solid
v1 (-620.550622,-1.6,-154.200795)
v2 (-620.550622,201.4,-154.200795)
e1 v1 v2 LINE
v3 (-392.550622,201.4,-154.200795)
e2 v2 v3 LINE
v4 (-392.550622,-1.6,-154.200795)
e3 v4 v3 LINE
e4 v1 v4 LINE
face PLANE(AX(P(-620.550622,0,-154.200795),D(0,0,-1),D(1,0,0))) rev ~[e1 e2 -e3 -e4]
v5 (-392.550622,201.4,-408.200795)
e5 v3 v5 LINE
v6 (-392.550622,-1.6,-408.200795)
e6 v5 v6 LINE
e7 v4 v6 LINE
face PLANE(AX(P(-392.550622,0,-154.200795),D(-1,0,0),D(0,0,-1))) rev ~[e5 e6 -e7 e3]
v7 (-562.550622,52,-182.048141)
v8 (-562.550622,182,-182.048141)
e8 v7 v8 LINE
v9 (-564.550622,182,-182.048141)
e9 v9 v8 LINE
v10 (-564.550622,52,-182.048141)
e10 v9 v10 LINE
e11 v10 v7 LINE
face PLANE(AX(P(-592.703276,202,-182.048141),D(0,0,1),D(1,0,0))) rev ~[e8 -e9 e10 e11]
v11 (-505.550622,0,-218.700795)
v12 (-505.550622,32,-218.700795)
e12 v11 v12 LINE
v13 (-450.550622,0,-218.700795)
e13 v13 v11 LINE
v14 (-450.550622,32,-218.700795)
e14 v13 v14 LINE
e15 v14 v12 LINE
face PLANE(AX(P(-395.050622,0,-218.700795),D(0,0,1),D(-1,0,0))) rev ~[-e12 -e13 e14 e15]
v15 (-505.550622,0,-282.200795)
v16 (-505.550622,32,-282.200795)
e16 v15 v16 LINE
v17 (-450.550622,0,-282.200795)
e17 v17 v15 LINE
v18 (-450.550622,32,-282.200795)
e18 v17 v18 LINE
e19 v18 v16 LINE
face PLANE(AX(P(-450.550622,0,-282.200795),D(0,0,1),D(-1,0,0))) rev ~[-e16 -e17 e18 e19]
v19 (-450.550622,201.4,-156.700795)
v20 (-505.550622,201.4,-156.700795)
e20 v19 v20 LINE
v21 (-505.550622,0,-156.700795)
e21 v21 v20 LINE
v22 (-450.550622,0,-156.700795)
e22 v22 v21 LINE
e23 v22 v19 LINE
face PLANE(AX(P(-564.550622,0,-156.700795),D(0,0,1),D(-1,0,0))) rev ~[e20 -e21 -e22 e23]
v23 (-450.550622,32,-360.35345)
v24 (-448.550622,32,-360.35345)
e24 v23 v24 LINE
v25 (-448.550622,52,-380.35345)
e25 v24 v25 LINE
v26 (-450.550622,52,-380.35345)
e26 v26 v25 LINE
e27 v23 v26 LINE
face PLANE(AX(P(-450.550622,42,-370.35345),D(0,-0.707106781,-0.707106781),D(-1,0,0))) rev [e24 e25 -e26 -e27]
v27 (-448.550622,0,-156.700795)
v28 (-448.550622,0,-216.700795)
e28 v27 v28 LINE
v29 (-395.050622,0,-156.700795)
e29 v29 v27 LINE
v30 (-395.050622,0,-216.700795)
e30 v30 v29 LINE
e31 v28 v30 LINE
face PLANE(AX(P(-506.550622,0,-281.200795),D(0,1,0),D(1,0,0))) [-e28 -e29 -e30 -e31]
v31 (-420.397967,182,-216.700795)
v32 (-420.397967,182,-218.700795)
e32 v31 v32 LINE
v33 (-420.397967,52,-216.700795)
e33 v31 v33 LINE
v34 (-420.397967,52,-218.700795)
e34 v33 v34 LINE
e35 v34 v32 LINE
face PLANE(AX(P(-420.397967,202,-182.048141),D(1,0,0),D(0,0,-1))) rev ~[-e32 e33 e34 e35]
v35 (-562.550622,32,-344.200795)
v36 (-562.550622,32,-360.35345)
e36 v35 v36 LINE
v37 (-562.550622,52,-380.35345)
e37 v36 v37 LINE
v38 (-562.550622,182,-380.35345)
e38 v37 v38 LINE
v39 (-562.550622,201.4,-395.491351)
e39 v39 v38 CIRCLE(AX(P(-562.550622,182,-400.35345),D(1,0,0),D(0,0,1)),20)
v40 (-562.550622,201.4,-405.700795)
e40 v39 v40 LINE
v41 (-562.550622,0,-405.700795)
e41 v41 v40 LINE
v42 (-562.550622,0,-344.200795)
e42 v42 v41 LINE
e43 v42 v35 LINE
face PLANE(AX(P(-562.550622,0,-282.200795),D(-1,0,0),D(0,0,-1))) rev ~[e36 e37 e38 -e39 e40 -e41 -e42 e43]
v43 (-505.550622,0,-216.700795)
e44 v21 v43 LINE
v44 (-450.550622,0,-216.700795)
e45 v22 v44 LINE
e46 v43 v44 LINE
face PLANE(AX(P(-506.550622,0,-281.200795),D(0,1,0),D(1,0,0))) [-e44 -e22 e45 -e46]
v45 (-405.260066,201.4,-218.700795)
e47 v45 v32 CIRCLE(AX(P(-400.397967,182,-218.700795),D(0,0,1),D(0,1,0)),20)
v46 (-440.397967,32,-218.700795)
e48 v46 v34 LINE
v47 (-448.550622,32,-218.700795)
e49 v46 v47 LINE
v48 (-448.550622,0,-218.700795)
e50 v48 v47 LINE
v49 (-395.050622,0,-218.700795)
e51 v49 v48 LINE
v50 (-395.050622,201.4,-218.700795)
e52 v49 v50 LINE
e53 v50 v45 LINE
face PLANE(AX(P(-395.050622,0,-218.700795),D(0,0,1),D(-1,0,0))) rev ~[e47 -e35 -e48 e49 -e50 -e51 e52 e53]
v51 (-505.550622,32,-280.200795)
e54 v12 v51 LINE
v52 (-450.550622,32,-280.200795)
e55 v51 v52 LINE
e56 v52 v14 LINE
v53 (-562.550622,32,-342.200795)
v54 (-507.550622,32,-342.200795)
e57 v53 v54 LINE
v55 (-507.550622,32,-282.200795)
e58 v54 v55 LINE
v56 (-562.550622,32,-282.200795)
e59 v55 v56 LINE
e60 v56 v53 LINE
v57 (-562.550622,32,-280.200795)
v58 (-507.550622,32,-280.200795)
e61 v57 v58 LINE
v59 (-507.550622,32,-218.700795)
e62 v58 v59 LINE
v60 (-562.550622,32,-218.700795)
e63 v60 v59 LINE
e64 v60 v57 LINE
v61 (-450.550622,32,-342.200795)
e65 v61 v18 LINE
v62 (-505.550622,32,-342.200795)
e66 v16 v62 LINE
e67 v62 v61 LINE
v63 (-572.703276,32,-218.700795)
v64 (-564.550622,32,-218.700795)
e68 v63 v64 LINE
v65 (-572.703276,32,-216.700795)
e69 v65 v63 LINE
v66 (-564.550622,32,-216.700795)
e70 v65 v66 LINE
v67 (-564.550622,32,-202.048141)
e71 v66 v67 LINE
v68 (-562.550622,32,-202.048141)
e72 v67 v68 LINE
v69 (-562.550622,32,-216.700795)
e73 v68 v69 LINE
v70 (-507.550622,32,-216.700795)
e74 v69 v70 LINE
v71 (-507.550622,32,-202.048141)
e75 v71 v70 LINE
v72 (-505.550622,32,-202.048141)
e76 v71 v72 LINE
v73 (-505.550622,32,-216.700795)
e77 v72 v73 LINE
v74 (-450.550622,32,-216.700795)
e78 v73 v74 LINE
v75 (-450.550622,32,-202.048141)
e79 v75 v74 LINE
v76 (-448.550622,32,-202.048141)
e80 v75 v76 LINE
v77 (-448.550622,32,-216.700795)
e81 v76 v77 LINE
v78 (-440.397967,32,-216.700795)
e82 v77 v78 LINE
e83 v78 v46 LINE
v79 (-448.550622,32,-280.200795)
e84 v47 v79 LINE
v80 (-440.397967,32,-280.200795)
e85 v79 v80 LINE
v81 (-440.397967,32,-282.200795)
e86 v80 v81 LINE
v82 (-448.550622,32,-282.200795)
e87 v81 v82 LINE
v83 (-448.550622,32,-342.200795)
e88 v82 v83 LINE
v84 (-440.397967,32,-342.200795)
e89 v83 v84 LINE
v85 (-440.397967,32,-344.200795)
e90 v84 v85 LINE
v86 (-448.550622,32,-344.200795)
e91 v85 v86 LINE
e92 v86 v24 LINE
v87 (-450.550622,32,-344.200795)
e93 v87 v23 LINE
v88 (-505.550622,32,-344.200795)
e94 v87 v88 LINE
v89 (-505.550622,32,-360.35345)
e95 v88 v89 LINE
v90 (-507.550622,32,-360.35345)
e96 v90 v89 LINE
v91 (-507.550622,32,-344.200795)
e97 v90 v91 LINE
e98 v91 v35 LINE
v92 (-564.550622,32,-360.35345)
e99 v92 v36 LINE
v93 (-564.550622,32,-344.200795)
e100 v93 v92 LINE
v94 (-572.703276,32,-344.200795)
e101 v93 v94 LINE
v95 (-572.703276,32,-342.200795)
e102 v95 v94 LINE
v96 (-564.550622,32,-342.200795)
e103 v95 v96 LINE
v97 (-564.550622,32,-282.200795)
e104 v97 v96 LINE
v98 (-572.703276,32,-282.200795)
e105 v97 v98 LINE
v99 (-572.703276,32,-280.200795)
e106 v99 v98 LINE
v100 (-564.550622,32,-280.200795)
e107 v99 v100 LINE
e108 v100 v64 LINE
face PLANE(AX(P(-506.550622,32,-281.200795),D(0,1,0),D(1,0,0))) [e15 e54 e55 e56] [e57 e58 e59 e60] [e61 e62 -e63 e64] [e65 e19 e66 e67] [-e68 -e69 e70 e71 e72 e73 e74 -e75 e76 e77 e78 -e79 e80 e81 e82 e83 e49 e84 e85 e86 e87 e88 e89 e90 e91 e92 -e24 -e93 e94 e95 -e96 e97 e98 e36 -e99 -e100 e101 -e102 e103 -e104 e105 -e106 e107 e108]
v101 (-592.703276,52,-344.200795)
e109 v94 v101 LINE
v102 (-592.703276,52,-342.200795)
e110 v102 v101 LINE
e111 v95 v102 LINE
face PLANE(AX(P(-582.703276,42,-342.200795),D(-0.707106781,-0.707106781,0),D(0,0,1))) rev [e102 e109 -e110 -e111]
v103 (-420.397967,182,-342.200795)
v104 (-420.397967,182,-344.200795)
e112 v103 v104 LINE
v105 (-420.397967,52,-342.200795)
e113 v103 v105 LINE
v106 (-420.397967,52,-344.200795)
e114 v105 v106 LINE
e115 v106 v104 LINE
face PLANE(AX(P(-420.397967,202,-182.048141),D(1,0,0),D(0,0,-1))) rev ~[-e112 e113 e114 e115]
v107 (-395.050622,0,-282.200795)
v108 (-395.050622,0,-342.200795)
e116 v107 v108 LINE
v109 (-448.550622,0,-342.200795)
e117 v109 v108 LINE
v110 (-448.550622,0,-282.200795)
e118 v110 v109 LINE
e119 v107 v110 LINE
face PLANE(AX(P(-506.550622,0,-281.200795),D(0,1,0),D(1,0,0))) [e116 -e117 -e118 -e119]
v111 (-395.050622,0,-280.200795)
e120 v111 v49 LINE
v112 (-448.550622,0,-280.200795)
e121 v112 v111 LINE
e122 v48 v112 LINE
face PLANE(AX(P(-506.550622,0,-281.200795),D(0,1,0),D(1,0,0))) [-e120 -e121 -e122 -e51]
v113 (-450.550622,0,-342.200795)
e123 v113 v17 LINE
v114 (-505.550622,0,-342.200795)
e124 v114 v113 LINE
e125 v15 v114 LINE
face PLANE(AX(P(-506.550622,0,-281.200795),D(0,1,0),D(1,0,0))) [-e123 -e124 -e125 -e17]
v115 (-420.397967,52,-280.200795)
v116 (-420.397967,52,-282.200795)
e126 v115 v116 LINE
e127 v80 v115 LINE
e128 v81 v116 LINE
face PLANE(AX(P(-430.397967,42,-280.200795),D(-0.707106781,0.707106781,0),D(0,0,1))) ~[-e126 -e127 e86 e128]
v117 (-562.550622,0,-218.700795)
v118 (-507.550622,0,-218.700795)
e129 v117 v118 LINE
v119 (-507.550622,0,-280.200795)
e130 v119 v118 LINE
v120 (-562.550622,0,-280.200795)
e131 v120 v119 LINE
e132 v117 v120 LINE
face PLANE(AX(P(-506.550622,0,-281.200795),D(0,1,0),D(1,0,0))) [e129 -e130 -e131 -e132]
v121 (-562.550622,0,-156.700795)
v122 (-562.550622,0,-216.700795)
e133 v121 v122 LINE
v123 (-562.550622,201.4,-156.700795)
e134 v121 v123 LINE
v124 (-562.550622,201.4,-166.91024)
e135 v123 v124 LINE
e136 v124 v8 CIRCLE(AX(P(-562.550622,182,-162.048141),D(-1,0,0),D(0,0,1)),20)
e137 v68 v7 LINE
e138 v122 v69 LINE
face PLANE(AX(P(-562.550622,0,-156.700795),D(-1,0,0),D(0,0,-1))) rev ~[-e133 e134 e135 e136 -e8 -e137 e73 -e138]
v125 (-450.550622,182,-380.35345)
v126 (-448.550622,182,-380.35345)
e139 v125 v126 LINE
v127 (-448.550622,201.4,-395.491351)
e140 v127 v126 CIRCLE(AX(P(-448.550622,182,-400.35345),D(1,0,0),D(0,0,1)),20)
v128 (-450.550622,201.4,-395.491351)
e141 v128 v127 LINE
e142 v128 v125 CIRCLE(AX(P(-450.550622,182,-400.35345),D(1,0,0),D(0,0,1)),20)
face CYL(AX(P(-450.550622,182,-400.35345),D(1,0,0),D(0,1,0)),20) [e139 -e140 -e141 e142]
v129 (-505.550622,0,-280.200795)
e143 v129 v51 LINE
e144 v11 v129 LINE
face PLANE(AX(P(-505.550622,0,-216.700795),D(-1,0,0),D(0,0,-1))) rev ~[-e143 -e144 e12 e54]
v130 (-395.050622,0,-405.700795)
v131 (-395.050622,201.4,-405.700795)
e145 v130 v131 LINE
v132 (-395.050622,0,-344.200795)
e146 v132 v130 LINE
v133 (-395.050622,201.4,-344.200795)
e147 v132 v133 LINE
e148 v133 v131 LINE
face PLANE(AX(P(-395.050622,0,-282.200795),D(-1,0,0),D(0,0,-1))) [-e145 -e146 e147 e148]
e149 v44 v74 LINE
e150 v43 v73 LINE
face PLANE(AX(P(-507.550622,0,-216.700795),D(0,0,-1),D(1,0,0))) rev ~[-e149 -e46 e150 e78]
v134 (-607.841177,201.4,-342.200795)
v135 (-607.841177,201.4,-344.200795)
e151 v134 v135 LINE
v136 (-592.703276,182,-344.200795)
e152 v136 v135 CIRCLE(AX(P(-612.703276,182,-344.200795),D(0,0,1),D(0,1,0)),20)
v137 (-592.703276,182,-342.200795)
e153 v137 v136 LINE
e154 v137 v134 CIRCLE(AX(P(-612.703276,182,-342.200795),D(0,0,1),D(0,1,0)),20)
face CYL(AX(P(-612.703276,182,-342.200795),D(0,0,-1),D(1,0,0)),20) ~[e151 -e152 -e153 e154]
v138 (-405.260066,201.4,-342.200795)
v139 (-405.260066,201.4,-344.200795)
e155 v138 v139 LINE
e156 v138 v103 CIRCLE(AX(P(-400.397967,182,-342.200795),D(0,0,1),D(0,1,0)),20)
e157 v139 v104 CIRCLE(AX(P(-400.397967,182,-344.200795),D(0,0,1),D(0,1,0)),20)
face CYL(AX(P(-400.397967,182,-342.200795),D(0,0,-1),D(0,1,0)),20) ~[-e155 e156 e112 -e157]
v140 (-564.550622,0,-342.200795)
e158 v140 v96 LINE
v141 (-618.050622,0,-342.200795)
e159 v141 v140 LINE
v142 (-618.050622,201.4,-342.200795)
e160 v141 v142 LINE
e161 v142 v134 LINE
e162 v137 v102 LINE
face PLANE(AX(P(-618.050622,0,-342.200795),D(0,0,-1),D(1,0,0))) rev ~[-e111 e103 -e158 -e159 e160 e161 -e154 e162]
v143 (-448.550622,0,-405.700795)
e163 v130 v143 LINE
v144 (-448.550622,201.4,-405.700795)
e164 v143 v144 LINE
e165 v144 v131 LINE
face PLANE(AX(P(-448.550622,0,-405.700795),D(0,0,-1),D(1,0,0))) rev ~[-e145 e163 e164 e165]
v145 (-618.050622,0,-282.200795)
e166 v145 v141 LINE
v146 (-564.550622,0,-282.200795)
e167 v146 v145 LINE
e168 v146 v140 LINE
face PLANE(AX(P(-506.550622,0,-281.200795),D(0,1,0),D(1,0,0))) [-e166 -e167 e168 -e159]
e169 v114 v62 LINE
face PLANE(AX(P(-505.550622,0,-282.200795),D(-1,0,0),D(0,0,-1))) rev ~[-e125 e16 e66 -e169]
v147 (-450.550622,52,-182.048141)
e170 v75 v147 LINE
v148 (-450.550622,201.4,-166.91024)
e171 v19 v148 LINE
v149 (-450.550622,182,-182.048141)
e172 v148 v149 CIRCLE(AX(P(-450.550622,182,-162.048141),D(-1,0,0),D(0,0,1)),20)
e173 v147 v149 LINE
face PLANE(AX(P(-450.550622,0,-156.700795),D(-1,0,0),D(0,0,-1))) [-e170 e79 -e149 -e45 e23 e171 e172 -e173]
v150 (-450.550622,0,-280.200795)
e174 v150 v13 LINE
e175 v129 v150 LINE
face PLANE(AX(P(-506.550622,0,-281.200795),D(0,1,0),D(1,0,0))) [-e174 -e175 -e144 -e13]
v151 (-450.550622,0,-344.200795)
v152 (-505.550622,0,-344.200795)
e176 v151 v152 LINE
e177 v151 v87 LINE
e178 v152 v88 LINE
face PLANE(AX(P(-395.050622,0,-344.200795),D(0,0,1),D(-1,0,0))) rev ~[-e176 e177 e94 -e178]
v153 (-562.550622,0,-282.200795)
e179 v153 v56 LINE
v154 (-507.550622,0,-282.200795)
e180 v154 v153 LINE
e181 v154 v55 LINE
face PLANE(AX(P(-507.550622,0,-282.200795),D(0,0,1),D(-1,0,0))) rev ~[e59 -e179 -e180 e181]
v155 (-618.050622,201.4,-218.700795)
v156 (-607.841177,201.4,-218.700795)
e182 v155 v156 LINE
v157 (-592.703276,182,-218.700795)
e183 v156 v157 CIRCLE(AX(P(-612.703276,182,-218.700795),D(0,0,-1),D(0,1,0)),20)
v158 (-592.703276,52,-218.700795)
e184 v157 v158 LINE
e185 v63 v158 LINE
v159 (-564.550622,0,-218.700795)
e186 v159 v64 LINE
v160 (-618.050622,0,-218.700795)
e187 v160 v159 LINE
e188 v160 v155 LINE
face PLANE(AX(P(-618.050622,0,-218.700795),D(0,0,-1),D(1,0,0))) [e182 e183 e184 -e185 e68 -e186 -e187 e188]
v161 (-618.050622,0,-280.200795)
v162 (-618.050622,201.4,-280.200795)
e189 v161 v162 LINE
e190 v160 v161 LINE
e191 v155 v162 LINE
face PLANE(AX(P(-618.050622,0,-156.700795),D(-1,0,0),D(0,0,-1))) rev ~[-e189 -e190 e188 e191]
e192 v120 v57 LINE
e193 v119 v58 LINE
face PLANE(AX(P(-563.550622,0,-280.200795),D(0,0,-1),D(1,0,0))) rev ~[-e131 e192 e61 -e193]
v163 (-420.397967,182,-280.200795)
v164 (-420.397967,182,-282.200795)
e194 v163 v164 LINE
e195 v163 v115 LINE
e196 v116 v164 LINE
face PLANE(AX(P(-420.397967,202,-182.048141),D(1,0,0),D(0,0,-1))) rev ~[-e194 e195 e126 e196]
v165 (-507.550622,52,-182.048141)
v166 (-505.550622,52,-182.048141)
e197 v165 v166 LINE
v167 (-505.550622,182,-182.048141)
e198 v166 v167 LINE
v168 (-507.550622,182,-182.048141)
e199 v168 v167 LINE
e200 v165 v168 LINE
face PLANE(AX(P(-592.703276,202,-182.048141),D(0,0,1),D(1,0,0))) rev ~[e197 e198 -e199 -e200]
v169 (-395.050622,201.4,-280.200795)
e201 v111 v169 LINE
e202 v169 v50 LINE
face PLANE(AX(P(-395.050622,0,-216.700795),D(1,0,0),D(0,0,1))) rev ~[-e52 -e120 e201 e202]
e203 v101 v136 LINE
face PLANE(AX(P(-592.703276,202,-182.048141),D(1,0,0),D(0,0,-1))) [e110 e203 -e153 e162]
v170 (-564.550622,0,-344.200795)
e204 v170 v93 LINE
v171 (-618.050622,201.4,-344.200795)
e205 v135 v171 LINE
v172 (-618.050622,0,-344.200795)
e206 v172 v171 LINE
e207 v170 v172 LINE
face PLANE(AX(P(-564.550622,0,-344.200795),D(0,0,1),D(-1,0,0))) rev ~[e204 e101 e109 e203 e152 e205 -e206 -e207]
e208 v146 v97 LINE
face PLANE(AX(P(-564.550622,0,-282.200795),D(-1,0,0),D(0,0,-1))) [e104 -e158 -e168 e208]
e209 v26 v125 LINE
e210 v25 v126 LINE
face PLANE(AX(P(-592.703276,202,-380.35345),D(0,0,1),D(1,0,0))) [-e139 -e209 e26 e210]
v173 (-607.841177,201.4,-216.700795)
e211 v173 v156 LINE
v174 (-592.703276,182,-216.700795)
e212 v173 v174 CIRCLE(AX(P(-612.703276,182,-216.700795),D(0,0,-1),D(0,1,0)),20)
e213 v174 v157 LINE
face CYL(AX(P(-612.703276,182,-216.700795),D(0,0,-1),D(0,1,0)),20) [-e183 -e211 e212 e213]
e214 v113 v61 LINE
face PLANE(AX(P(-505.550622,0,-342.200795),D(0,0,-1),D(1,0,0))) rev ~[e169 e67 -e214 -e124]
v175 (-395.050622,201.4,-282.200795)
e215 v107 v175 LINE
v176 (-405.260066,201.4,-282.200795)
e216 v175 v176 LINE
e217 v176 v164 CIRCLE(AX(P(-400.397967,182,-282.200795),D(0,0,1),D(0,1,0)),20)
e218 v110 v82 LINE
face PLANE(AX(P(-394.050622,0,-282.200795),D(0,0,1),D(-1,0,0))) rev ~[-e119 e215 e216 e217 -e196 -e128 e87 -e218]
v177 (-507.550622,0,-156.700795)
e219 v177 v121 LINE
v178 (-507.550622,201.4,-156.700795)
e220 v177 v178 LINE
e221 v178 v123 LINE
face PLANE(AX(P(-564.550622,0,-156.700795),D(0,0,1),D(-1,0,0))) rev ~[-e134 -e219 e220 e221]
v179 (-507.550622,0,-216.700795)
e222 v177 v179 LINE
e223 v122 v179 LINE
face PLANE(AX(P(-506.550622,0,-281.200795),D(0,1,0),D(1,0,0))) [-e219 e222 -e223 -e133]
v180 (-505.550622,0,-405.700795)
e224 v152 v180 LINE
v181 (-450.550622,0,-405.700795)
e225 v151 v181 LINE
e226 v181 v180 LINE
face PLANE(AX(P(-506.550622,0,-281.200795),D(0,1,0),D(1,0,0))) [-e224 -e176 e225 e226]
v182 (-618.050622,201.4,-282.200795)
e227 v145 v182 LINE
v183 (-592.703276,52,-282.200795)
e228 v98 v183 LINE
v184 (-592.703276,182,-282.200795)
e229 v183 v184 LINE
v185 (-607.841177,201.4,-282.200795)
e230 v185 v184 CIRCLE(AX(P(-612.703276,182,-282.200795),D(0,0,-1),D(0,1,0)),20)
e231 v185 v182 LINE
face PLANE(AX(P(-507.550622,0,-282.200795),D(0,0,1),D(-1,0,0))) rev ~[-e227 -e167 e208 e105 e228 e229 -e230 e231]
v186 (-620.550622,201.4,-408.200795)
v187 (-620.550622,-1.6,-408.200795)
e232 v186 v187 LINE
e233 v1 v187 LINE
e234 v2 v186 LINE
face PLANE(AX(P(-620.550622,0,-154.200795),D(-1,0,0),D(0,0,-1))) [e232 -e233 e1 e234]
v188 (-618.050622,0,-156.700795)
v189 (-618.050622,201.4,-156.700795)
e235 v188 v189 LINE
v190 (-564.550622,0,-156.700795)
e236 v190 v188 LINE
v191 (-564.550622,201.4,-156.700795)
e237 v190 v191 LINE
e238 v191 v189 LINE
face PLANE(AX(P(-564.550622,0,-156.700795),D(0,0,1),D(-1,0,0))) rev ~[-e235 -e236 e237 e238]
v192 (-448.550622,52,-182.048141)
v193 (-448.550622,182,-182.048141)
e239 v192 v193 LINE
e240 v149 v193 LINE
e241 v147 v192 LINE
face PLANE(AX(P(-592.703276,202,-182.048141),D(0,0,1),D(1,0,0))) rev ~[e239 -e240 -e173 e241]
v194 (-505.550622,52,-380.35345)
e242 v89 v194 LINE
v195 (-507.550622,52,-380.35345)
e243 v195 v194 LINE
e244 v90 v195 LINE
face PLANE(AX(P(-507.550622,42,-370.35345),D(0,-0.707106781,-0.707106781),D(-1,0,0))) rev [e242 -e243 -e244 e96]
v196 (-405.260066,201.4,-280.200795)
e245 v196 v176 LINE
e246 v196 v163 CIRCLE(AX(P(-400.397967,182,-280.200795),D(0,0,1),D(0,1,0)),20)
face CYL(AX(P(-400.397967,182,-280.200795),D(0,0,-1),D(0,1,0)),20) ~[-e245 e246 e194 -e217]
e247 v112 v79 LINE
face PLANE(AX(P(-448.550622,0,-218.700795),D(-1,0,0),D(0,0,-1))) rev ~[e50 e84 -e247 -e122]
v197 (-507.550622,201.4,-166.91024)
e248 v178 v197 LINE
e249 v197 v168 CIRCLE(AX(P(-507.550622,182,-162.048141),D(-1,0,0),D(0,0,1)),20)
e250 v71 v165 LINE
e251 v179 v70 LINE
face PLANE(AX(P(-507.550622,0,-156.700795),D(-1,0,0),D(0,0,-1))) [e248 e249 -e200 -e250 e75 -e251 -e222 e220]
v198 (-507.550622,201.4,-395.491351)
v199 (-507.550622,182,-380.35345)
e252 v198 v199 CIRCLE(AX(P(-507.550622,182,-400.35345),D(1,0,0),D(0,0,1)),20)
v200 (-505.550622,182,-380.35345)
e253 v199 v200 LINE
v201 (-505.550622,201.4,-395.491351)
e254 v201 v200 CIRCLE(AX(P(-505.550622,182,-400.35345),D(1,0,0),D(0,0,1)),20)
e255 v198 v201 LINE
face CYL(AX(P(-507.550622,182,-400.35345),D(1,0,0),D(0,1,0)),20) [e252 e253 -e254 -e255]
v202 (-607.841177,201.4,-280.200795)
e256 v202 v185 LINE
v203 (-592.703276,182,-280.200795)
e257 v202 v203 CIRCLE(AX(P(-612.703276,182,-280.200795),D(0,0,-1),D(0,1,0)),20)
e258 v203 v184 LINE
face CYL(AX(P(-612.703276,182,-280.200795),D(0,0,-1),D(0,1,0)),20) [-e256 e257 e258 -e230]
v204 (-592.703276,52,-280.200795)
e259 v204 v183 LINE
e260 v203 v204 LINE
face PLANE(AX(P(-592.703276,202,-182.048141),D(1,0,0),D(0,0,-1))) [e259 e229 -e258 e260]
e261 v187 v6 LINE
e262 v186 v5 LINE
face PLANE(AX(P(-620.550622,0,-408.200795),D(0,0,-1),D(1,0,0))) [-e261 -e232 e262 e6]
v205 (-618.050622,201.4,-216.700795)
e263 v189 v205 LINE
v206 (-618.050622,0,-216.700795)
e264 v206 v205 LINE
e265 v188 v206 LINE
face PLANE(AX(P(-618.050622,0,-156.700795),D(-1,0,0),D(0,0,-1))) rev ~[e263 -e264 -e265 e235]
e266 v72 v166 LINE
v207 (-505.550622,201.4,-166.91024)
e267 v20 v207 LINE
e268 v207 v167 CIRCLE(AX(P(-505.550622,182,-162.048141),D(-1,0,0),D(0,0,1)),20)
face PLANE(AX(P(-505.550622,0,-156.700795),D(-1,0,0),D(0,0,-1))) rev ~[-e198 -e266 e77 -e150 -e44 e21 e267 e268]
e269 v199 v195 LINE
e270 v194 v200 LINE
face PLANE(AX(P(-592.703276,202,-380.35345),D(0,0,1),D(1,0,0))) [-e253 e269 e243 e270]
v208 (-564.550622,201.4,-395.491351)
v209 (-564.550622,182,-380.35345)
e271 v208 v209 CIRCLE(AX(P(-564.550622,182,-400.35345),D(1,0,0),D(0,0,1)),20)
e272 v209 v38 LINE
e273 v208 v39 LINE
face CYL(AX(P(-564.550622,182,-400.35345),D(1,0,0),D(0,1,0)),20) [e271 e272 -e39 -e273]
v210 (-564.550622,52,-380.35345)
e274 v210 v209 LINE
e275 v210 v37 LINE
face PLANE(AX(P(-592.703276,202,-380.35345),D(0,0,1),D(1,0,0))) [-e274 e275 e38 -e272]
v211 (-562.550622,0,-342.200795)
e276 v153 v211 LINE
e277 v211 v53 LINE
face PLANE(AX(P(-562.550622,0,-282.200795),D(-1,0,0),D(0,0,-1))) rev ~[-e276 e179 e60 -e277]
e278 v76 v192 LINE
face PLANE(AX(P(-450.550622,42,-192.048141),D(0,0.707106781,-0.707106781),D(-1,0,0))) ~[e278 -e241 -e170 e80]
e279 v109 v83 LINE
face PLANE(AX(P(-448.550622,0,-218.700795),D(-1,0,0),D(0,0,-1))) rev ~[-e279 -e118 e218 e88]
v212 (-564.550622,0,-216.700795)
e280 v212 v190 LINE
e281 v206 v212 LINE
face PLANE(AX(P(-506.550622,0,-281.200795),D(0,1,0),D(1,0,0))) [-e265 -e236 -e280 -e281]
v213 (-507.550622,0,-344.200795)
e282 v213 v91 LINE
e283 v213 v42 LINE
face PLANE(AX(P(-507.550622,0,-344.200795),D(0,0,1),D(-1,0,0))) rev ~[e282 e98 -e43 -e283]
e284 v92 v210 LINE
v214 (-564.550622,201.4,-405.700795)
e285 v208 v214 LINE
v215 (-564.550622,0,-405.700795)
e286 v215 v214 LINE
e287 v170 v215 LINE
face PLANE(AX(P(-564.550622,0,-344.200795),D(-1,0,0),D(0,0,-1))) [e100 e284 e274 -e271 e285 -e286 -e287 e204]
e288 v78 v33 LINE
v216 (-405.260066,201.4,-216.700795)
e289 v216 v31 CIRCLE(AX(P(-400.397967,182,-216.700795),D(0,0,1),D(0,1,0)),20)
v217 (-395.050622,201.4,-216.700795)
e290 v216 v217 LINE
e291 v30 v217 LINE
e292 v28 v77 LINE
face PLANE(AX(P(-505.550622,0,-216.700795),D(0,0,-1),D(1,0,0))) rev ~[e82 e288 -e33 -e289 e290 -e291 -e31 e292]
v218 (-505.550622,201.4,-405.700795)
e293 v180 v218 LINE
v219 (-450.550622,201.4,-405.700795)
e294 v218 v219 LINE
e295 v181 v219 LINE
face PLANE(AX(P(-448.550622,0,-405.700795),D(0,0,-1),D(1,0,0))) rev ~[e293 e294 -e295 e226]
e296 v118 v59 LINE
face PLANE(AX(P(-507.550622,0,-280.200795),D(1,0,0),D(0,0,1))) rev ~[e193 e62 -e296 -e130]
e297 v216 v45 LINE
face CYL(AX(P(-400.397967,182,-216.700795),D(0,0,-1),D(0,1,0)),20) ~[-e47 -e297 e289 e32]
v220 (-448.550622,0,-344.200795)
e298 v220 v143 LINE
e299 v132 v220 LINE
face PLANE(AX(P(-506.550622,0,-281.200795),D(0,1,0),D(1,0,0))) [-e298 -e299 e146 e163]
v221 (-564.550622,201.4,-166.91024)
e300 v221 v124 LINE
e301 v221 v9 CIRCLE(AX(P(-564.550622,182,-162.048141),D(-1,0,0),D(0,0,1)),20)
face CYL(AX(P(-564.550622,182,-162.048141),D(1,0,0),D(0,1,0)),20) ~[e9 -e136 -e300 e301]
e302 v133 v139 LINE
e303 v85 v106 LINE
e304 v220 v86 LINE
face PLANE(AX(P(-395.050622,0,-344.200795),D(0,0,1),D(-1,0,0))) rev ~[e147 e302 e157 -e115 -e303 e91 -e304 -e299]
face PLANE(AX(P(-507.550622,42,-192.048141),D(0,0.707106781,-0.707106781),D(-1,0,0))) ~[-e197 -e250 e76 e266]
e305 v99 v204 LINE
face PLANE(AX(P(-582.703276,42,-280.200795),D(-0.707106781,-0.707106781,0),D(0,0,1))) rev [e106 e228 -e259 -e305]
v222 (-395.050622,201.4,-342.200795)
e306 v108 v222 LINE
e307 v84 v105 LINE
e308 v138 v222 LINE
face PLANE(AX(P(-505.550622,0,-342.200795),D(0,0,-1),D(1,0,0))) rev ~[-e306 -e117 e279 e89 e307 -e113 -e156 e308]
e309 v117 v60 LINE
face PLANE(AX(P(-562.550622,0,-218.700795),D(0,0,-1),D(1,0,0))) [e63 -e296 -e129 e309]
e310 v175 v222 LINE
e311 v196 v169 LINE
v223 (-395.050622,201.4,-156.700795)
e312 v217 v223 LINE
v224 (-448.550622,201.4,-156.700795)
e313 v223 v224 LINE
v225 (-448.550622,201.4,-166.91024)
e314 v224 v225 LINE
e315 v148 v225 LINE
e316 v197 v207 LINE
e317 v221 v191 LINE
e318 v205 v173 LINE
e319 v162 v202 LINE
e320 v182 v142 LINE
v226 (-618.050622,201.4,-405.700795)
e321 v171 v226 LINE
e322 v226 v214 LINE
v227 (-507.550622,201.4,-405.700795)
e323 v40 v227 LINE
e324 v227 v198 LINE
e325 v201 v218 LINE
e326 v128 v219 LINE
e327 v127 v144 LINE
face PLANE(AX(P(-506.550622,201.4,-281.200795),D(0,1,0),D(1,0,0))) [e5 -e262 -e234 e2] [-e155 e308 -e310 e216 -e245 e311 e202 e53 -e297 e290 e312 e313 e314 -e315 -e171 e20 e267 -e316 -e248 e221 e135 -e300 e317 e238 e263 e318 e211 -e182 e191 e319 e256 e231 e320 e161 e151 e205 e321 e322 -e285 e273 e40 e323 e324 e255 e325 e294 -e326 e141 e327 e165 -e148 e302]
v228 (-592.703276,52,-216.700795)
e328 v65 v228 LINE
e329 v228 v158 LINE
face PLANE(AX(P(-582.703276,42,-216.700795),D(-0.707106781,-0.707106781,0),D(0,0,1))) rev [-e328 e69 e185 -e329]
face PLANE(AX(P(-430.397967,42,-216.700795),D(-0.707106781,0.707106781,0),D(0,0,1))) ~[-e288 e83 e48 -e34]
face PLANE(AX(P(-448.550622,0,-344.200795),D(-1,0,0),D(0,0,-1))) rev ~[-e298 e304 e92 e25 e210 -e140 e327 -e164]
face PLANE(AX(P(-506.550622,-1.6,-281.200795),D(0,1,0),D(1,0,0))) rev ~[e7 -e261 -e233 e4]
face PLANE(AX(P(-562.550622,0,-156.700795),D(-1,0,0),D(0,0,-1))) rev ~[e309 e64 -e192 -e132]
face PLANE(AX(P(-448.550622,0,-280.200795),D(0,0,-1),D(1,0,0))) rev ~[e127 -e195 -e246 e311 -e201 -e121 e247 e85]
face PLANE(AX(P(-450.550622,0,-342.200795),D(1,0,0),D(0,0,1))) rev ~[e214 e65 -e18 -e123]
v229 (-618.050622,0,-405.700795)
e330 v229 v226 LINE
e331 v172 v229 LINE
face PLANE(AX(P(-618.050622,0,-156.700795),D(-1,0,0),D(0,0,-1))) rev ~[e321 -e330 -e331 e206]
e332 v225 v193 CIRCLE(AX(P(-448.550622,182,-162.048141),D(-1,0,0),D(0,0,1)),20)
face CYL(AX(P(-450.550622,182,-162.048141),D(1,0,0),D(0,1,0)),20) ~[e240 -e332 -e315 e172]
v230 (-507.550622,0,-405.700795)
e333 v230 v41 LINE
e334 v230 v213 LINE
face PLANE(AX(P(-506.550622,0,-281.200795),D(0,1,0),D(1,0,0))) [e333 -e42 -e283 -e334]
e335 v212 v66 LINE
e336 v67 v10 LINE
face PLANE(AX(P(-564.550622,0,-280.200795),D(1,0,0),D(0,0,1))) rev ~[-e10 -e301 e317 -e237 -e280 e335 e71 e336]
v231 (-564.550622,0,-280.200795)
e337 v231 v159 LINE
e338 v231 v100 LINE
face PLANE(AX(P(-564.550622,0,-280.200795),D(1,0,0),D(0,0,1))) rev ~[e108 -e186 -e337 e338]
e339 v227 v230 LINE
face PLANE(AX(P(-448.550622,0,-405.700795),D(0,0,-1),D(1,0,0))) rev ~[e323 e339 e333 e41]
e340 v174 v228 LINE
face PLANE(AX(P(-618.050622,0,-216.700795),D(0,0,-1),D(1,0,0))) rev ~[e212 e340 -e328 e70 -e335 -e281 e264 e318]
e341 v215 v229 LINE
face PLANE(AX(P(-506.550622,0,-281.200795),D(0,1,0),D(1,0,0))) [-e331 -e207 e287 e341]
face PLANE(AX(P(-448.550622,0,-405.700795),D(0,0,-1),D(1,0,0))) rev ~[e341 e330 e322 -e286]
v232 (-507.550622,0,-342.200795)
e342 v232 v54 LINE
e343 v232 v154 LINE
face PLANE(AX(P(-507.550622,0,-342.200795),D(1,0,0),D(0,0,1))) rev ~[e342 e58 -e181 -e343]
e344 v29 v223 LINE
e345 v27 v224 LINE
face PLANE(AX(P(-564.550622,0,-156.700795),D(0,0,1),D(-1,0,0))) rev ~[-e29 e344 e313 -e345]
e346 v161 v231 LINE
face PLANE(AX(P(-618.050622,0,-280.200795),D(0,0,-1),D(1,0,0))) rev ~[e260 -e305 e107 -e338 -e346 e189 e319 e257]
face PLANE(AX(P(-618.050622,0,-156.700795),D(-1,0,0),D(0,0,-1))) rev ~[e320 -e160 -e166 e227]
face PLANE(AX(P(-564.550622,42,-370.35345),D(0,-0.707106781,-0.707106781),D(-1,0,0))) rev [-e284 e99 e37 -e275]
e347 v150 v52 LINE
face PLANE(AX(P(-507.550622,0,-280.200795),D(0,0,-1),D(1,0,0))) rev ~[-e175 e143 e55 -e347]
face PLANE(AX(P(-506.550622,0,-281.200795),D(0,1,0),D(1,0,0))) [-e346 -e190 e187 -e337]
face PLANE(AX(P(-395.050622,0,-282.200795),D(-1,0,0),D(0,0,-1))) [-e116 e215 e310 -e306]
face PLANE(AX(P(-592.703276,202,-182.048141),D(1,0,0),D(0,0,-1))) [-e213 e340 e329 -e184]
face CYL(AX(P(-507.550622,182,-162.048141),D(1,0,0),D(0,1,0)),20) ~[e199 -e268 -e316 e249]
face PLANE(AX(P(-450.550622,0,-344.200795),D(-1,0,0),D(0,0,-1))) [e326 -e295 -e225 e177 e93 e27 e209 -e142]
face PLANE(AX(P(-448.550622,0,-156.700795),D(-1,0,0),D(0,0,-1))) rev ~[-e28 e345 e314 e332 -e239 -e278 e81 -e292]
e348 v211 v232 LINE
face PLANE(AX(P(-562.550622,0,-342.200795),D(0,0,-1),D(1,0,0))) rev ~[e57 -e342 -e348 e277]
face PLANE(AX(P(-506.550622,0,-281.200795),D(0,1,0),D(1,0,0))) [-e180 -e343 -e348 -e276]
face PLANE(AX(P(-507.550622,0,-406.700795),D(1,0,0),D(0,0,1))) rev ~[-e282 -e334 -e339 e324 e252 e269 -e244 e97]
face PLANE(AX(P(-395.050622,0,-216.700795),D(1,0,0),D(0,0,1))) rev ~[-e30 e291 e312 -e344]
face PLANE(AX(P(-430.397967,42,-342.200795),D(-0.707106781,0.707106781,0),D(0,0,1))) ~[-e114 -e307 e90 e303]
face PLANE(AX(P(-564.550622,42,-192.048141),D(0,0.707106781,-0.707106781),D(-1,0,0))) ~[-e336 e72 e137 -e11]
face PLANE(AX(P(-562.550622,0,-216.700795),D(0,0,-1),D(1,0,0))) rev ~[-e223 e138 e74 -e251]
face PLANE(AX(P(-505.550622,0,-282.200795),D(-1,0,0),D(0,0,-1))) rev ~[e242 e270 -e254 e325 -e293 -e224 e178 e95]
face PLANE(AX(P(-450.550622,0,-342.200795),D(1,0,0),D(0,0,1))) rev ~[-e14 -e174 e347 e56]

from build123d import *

# Parameters (mm, degrees)
SKETCH2_W            = 228
SKETCH2_H            = 254
BOSS_EXTRUDE1_DEPTH  = 1.6
SKETCH2_6_W          = 228
SKETCH2_6_H          = 254
BOSS_EXTRUDE2_DEPTH  = 202
SKETCH2_7_W          = 2
SKETCH2_7_H          = 60
BOSS_EXTRUDE6_DEPTH  = 202
SKETCH2_8_W          = 54.5
SKETCH2_8_H          = 2
BOSS_EXTRUDE7_DEPTH  = 202
SKETCH2_9_W          = 110.5
SKETCH2_9_H          = 2
BOSS_EXTRUDE8_DEPTH  = 202
SKETCH2_10_W         = 2
SKETCH2_10_H         = 61.5
BOSS_EXTRUDE12_DEPTH = 202
SKETCH2_11_W         = 2
SKETCH2_11_H         = 123.5
BOSS_EXTRUDE13_DEPTH = 202
SKETCH2_12_W         = 110.5
SKETCH2_12_H         = 2
BOSS_EXTRUDE14_DEPTH = 202
SKETCH2_13_W         = 57
SKETCH2_13_H         = 2
BOSS_EXTRUDE19_DEPTH = 202
SKETCH2_14_W         = 2
SKETCH2_14_H         = 63.5
BOSS_EXTRUDE25_DEPTH = 202
SKETCH2_17_W         = 55
SKETCH2_17_H         = 2
SKETCH2_17_W_2       = 2
SKETCH2_17_H_2       = 60
BOSS_EXTRUDE26_DEPTH = 202
SKETCH2_18_W         = 2
SKETCH2_18_H         = 123.5
BOSS_EXTRUDE27_DEPTH = 202
SKETCH2_21_W         = 54.5
SKETCH2_21_H         = 2
BOSS_EXTRUDE36_DEPTH = 202
SKETCH2_23_W         = 56
SKETCH2_23_H         = 2
BOSS_EXTRUDE40_DEPTH = 202
SKETCH2_24_W         = 53.5
SKETCH2_24_H         = 2
BOSS_EXTRUDE41_DEPTH = 202
SKETCH3_W            = 172.305308293
SKETCH3_H            = 198.305308293
CUT_EXTRUDE1_DEPTH   = 170
CHAMFER1_SIZE        = 20
FILLET1_R            = 20
SKETCH4_W            = 228
SKETCH4_H            = 254
CUT_EXTRUDE2_DEPTH   = 0.6


with BuildPart() as part:
    # Sketch2 → Boss-Extrude1 (new body)
    with BuildSketch(Plane(origin=(0, 0, 0), x_dir=(1, 0, 0), z_dir=(0, 1, 0))):
        with Locations((-506.55062157, 281.20079547)):
            Rectangle(SKETCH2_W, SKETCH2_H)
    extrude(amount=-BOSS_EXTRUDE1_DEPTH)

    # Sketch2<6> → Boss-Extrude2 (add)
    with BuildSketch(Plane(origin=(0, 0, 0), x_dir=(1, 0, 0), z_dir=(0, 1, 0))):
        with Locations((-506.55062157, 281.20079547)):
            Rectangle(SKETCH2_6_W, SKETCH2_6_H)
        Polygon((-618.05062157, 405.70079547), (-395.05062157, 405.70079547), (-395.05062157, 282.20079547), (-394.05062157, 282.20079547), (-394.05062157, 280.20079547), (-395.05062157, 280.20079547), (-395.05062157, 156.70079547), (-618.05062157, 156.70079547), align=None, mode=Mode.SUBTRACT)
    extrude(amount=BOSS_EXTRUDE2_DEPTH)

    # Sketch2<7> → Boss-Extrude6 (add)
    with BuildSketch(Plane(origin=(0, 0, 0), x_dir=(1, 0, 0), z_dir=(0, 1, 0))):
        with Locations((-449.55062157, 186.70079547)):
            Rectangle(SKETCH2_7_W, SKETCH2_7_H)
    extrude(amount=BOSS_EXTRUDE6_DEPTH)

    # Sketch2<8> → Boss-Extrude7 (add)
    with BuildSketch(Plane(origin=(0, 0, 0), x_dir=(1, 0, 0), z_dir=(0, 1, 0))):
        with Locations((-421.30062157, 281.20079547)):
            Rectangle(SKETCH2_8_W, SKETCH2_8_H)
    extrude(amount=BOSS_EXTRUDE7_DEPTH)

    # Sketch2<9> → Boss-Extrude8 (add)
    with BuildSketch(Plane(origin=(0, 0, 0), x_dir=(1, 0, 0), z_dir=(0, 1, 0))):
        with Locations((-450.30062157, 343.20079547)):
            Rectangle(SKETCH2_9_W, SKETCH2_9_H)
    extrude(amount=BOSS_EXTRUDE8_DEPTH)

    # Sketch2<10> → Boss-Extrude12 (add)
    with BuildSketch(Plane(origin=(0, 0, 0), x_dir=(1, 0, 0), z_dir=(0, 1, 0))):
        with Locations((-449.55062157, 374.95079547)):
            Rectangle(SKETCH2_10_W, SKETCH2_10_H)
    extrude(amount=BOSS_EXTRUDE12_DEPTH)

    # Sketch2<11> → Boss-Extrude13 (add)
    with BuildSketch(Plane(origin=(0, 0, 0), x_dir=(1, 0, 0), z_dir=(0, 1, 0))):
        with Locations((-449.55062157, 280.45079547)):
            Rectangle(SKETCH2_11_W, SKETCH2_11_H)
    extrude(amount=BOSS_EXTRUDE13_DEPTH)

    # Sketch2<12> → Boss-Extrude14 (add)
    with BuildSketch(Plane(origin=(0, 0, 0), x_dir=(1, 0, 0), z_dir=(0, 1, 0))):
        with Locations((-450.30062157, 217.70079547)):
            Rectangle(SKETCH2_12_W, SKETCH2_12_H)
    extrude(amount=BOSS_EXTRUDE14_DEPTH)

    # Sketch2<13> → Boss-Extrude19 (add)
    with BuildSketch(Plane(origin=(0, 0, 0), x_dir=(1, 0, 0), z_dir=(0, 1, 0))):
        with Locations((-479.05062157, 281.20079547)):
            Rectangle(SKETCH2_13_W, SKETCH2_13_H)
    extrude(amount=BOSS_EXTRUDE19_DEPTH)

    # Sketch2<14> → Boss-Extrude25 (add)
    with BuildSketch(Plane(origin=(0, 0, 0), x_dir=(1, 0, 0), z_dir=(0, 1, 0))):
        with Locations((-506.55062157, 248.45079547)):
            Rectangle(SKETCH2_14_W, SKETCH2_14_H)
    extrude(amount=BOSS_EXTRUDE25_DEPTH)

    # Sketch2<17> → Boss-Extrude26 (add)
    with BuildSketch(Plane(origin=(0, 0, 0), x_dir=(1, 0, 0), z_dir=(0, 1, 0))):
        with Locations((-535.05062157, 217.70079547)):
            Rectangle(SKETCH2_17_W, SKETCH2_17_H)
        with Locations((-506.55062157, 186.70079547)):
            Rectangle(SKETCH2_17_W_2, SKETCH2_17_H_2)
    extrude(amount=BOSS_EXTRUDE26_DEPTH)

    # Sketch2<18> → Boss-Extrude27 (add)
    with BuildSketch(Plane(origin=(0, 0, 0), x_dir=(1, 0, 0), z_dir=(0, 1, 0))):
        with Locations((-563.55062157, 218.45079547)):
            Rectangle(SKETCH2_18_W, SKETCH2_18_H)
    extrude(amount=BOSS_EXTRUDE27_DEPTH)

    # Sketch2<21> → Boss-Extrude36 (add)
    with BuildSketch(Plane(origin=(0, 0, 0), x_dir=(1, 0, 0), z_dir=(0, 1, 0))):
        with Locations((-590.80062157, 281.20079547)):
            Rectangle(SKETCH2_21_W, SKETCH2_21_H)
    extrude(amount=BOSS_EXTRUDE36_DEPTH)

    # Sketch2<23> → Boss-Extrude40 (add)
    with BuildSketch(Plane(origin=(0, 0, 0), x_dir=(1, 0, 0), z_dir=(0, 1, 0))):
        Polygon((-507.55062157, 406.70079547), (-507.55062157, 344.20079547), (-562.55062157, 344.20079547), (-562.55062157, 342.20079547), (-507.55062157, 342.20079547), (-507.55062157, 282.20079547), (-505.55062157, 282.20079547), (-505.55062157, 406.70079547), align=None)
        with Locations((-535.55062157, 281.20079547)):
            Rectangle(SKETCH2_23_W, SKETCH2_23_H)
    extrude(amount=BOSS_EXTRUDE40_DEPTH)

    # Sketch2<24> → Boss-Extrude41 (add)
    with BuildSketch(Plane(origin=(0, 0, 0), x_dir=(1, 0, 0), z_dir=(0, 1, 0))):
        Polygon((-564.55062157, 405.70079547), (-564.55062157, 344.20079547), (-618.05062157, 344.20079547), (-618.05062157, 342.20079547), (-564.55062157, 342.20079547), (-564.55062157, 282.20079547), (-562.55062157, 282.20079547), (-562.55062157, 405.70079547), align=None)
        with Locations((-591.30062157, 217.70079547)):
            Rectangle(SKETCH2_24_W, SKETCH2_24_H)
    extrude(amount=BOSS_EXTRUDE41_DEPTH)

    # Sketch3 → Cut-Extrude1 (cut)
    with BuildSketch(Plane(origin=(0, 202, 0), x_dir=(1, 0, 0), z_dir=(0, 1, 0))):
        with Locations((-506.550621569, 281.20079547)):
            Rectangle(SKETCH3_W, SKETCH3_H)
    extrude(amount=-CUT_EXTRUDE1_DEPTH, mode=Mode.SUBTRACT)

    # Chamfer1
    chamfer1_edges = [part.edges().sort_by_distance(p)[0] for p in [
        (-563.55062157, 32, -182.048141324),
        (-506.55062157, 32, -182.048141324),
        (-449.55062157, 32, -182.048141324),
        (-420.397967423, 32, -217.70079547),
        (-420.397967423, 32, -281.20079547),
        (-420.397967423, 32, -343.20079547),
        (-592.703275716, 32, -217.70079547),
        (-592.703275716, 32, -281.20079547),
        (-449.55062157, 32, -380.353449617),
        (-506.55062157, 32, -380.353449617),
        (-563.55062157, 32, -380.353449617),
        (-592.703275716, 32, -343.20079547),
    ]]
    chamfer(chamfer1_edges, length=CHAMFER1_SIZE)

    # Fillet1
    fillet1_edges = [part.edges().sort_by_distance(p)[0] for p in [
        (-420.397967423, 202, -217.70079547),
        (-420.397967423, 202, -281.20079547),
        (-420.397967423, 202, -343.20079547),
        (-449.55062157, 202, -380.353449617),
        (-506.55062157, 202, -380.353449617),
        (-563.55062157, 202, -380.353449617),
        (-592.703275716, 202, -343.20079547),
        (-592.703275716, 202, -281.20079547),
        (-592.703275716, 202, -217.70079547),
        (-563.55062157, 202, -182.048141324),
        (-506.55062157, 202, -182.048141324),
        (-449.55062157, 202, -182.048141324),
    ]]
    fillet(fillet1_edges, radius=FILLET1_R)

    # Sketch4 → Cut-Extrude2 (cut)
    with BuildSketch(Plane(origin=(0, 202, 0), x_dir=(1, 0, 0), z_dir=(0, 1, 0))):
        with Locations((-506.55062157, 281.20079547)):
            Rectangle(SKETCH4_W, SKETCH4_H)
    extrude(amount=-CUT_EXTRUDE2_DEPTH, mode=Mode.SUBTRACT)


solid = part.part
